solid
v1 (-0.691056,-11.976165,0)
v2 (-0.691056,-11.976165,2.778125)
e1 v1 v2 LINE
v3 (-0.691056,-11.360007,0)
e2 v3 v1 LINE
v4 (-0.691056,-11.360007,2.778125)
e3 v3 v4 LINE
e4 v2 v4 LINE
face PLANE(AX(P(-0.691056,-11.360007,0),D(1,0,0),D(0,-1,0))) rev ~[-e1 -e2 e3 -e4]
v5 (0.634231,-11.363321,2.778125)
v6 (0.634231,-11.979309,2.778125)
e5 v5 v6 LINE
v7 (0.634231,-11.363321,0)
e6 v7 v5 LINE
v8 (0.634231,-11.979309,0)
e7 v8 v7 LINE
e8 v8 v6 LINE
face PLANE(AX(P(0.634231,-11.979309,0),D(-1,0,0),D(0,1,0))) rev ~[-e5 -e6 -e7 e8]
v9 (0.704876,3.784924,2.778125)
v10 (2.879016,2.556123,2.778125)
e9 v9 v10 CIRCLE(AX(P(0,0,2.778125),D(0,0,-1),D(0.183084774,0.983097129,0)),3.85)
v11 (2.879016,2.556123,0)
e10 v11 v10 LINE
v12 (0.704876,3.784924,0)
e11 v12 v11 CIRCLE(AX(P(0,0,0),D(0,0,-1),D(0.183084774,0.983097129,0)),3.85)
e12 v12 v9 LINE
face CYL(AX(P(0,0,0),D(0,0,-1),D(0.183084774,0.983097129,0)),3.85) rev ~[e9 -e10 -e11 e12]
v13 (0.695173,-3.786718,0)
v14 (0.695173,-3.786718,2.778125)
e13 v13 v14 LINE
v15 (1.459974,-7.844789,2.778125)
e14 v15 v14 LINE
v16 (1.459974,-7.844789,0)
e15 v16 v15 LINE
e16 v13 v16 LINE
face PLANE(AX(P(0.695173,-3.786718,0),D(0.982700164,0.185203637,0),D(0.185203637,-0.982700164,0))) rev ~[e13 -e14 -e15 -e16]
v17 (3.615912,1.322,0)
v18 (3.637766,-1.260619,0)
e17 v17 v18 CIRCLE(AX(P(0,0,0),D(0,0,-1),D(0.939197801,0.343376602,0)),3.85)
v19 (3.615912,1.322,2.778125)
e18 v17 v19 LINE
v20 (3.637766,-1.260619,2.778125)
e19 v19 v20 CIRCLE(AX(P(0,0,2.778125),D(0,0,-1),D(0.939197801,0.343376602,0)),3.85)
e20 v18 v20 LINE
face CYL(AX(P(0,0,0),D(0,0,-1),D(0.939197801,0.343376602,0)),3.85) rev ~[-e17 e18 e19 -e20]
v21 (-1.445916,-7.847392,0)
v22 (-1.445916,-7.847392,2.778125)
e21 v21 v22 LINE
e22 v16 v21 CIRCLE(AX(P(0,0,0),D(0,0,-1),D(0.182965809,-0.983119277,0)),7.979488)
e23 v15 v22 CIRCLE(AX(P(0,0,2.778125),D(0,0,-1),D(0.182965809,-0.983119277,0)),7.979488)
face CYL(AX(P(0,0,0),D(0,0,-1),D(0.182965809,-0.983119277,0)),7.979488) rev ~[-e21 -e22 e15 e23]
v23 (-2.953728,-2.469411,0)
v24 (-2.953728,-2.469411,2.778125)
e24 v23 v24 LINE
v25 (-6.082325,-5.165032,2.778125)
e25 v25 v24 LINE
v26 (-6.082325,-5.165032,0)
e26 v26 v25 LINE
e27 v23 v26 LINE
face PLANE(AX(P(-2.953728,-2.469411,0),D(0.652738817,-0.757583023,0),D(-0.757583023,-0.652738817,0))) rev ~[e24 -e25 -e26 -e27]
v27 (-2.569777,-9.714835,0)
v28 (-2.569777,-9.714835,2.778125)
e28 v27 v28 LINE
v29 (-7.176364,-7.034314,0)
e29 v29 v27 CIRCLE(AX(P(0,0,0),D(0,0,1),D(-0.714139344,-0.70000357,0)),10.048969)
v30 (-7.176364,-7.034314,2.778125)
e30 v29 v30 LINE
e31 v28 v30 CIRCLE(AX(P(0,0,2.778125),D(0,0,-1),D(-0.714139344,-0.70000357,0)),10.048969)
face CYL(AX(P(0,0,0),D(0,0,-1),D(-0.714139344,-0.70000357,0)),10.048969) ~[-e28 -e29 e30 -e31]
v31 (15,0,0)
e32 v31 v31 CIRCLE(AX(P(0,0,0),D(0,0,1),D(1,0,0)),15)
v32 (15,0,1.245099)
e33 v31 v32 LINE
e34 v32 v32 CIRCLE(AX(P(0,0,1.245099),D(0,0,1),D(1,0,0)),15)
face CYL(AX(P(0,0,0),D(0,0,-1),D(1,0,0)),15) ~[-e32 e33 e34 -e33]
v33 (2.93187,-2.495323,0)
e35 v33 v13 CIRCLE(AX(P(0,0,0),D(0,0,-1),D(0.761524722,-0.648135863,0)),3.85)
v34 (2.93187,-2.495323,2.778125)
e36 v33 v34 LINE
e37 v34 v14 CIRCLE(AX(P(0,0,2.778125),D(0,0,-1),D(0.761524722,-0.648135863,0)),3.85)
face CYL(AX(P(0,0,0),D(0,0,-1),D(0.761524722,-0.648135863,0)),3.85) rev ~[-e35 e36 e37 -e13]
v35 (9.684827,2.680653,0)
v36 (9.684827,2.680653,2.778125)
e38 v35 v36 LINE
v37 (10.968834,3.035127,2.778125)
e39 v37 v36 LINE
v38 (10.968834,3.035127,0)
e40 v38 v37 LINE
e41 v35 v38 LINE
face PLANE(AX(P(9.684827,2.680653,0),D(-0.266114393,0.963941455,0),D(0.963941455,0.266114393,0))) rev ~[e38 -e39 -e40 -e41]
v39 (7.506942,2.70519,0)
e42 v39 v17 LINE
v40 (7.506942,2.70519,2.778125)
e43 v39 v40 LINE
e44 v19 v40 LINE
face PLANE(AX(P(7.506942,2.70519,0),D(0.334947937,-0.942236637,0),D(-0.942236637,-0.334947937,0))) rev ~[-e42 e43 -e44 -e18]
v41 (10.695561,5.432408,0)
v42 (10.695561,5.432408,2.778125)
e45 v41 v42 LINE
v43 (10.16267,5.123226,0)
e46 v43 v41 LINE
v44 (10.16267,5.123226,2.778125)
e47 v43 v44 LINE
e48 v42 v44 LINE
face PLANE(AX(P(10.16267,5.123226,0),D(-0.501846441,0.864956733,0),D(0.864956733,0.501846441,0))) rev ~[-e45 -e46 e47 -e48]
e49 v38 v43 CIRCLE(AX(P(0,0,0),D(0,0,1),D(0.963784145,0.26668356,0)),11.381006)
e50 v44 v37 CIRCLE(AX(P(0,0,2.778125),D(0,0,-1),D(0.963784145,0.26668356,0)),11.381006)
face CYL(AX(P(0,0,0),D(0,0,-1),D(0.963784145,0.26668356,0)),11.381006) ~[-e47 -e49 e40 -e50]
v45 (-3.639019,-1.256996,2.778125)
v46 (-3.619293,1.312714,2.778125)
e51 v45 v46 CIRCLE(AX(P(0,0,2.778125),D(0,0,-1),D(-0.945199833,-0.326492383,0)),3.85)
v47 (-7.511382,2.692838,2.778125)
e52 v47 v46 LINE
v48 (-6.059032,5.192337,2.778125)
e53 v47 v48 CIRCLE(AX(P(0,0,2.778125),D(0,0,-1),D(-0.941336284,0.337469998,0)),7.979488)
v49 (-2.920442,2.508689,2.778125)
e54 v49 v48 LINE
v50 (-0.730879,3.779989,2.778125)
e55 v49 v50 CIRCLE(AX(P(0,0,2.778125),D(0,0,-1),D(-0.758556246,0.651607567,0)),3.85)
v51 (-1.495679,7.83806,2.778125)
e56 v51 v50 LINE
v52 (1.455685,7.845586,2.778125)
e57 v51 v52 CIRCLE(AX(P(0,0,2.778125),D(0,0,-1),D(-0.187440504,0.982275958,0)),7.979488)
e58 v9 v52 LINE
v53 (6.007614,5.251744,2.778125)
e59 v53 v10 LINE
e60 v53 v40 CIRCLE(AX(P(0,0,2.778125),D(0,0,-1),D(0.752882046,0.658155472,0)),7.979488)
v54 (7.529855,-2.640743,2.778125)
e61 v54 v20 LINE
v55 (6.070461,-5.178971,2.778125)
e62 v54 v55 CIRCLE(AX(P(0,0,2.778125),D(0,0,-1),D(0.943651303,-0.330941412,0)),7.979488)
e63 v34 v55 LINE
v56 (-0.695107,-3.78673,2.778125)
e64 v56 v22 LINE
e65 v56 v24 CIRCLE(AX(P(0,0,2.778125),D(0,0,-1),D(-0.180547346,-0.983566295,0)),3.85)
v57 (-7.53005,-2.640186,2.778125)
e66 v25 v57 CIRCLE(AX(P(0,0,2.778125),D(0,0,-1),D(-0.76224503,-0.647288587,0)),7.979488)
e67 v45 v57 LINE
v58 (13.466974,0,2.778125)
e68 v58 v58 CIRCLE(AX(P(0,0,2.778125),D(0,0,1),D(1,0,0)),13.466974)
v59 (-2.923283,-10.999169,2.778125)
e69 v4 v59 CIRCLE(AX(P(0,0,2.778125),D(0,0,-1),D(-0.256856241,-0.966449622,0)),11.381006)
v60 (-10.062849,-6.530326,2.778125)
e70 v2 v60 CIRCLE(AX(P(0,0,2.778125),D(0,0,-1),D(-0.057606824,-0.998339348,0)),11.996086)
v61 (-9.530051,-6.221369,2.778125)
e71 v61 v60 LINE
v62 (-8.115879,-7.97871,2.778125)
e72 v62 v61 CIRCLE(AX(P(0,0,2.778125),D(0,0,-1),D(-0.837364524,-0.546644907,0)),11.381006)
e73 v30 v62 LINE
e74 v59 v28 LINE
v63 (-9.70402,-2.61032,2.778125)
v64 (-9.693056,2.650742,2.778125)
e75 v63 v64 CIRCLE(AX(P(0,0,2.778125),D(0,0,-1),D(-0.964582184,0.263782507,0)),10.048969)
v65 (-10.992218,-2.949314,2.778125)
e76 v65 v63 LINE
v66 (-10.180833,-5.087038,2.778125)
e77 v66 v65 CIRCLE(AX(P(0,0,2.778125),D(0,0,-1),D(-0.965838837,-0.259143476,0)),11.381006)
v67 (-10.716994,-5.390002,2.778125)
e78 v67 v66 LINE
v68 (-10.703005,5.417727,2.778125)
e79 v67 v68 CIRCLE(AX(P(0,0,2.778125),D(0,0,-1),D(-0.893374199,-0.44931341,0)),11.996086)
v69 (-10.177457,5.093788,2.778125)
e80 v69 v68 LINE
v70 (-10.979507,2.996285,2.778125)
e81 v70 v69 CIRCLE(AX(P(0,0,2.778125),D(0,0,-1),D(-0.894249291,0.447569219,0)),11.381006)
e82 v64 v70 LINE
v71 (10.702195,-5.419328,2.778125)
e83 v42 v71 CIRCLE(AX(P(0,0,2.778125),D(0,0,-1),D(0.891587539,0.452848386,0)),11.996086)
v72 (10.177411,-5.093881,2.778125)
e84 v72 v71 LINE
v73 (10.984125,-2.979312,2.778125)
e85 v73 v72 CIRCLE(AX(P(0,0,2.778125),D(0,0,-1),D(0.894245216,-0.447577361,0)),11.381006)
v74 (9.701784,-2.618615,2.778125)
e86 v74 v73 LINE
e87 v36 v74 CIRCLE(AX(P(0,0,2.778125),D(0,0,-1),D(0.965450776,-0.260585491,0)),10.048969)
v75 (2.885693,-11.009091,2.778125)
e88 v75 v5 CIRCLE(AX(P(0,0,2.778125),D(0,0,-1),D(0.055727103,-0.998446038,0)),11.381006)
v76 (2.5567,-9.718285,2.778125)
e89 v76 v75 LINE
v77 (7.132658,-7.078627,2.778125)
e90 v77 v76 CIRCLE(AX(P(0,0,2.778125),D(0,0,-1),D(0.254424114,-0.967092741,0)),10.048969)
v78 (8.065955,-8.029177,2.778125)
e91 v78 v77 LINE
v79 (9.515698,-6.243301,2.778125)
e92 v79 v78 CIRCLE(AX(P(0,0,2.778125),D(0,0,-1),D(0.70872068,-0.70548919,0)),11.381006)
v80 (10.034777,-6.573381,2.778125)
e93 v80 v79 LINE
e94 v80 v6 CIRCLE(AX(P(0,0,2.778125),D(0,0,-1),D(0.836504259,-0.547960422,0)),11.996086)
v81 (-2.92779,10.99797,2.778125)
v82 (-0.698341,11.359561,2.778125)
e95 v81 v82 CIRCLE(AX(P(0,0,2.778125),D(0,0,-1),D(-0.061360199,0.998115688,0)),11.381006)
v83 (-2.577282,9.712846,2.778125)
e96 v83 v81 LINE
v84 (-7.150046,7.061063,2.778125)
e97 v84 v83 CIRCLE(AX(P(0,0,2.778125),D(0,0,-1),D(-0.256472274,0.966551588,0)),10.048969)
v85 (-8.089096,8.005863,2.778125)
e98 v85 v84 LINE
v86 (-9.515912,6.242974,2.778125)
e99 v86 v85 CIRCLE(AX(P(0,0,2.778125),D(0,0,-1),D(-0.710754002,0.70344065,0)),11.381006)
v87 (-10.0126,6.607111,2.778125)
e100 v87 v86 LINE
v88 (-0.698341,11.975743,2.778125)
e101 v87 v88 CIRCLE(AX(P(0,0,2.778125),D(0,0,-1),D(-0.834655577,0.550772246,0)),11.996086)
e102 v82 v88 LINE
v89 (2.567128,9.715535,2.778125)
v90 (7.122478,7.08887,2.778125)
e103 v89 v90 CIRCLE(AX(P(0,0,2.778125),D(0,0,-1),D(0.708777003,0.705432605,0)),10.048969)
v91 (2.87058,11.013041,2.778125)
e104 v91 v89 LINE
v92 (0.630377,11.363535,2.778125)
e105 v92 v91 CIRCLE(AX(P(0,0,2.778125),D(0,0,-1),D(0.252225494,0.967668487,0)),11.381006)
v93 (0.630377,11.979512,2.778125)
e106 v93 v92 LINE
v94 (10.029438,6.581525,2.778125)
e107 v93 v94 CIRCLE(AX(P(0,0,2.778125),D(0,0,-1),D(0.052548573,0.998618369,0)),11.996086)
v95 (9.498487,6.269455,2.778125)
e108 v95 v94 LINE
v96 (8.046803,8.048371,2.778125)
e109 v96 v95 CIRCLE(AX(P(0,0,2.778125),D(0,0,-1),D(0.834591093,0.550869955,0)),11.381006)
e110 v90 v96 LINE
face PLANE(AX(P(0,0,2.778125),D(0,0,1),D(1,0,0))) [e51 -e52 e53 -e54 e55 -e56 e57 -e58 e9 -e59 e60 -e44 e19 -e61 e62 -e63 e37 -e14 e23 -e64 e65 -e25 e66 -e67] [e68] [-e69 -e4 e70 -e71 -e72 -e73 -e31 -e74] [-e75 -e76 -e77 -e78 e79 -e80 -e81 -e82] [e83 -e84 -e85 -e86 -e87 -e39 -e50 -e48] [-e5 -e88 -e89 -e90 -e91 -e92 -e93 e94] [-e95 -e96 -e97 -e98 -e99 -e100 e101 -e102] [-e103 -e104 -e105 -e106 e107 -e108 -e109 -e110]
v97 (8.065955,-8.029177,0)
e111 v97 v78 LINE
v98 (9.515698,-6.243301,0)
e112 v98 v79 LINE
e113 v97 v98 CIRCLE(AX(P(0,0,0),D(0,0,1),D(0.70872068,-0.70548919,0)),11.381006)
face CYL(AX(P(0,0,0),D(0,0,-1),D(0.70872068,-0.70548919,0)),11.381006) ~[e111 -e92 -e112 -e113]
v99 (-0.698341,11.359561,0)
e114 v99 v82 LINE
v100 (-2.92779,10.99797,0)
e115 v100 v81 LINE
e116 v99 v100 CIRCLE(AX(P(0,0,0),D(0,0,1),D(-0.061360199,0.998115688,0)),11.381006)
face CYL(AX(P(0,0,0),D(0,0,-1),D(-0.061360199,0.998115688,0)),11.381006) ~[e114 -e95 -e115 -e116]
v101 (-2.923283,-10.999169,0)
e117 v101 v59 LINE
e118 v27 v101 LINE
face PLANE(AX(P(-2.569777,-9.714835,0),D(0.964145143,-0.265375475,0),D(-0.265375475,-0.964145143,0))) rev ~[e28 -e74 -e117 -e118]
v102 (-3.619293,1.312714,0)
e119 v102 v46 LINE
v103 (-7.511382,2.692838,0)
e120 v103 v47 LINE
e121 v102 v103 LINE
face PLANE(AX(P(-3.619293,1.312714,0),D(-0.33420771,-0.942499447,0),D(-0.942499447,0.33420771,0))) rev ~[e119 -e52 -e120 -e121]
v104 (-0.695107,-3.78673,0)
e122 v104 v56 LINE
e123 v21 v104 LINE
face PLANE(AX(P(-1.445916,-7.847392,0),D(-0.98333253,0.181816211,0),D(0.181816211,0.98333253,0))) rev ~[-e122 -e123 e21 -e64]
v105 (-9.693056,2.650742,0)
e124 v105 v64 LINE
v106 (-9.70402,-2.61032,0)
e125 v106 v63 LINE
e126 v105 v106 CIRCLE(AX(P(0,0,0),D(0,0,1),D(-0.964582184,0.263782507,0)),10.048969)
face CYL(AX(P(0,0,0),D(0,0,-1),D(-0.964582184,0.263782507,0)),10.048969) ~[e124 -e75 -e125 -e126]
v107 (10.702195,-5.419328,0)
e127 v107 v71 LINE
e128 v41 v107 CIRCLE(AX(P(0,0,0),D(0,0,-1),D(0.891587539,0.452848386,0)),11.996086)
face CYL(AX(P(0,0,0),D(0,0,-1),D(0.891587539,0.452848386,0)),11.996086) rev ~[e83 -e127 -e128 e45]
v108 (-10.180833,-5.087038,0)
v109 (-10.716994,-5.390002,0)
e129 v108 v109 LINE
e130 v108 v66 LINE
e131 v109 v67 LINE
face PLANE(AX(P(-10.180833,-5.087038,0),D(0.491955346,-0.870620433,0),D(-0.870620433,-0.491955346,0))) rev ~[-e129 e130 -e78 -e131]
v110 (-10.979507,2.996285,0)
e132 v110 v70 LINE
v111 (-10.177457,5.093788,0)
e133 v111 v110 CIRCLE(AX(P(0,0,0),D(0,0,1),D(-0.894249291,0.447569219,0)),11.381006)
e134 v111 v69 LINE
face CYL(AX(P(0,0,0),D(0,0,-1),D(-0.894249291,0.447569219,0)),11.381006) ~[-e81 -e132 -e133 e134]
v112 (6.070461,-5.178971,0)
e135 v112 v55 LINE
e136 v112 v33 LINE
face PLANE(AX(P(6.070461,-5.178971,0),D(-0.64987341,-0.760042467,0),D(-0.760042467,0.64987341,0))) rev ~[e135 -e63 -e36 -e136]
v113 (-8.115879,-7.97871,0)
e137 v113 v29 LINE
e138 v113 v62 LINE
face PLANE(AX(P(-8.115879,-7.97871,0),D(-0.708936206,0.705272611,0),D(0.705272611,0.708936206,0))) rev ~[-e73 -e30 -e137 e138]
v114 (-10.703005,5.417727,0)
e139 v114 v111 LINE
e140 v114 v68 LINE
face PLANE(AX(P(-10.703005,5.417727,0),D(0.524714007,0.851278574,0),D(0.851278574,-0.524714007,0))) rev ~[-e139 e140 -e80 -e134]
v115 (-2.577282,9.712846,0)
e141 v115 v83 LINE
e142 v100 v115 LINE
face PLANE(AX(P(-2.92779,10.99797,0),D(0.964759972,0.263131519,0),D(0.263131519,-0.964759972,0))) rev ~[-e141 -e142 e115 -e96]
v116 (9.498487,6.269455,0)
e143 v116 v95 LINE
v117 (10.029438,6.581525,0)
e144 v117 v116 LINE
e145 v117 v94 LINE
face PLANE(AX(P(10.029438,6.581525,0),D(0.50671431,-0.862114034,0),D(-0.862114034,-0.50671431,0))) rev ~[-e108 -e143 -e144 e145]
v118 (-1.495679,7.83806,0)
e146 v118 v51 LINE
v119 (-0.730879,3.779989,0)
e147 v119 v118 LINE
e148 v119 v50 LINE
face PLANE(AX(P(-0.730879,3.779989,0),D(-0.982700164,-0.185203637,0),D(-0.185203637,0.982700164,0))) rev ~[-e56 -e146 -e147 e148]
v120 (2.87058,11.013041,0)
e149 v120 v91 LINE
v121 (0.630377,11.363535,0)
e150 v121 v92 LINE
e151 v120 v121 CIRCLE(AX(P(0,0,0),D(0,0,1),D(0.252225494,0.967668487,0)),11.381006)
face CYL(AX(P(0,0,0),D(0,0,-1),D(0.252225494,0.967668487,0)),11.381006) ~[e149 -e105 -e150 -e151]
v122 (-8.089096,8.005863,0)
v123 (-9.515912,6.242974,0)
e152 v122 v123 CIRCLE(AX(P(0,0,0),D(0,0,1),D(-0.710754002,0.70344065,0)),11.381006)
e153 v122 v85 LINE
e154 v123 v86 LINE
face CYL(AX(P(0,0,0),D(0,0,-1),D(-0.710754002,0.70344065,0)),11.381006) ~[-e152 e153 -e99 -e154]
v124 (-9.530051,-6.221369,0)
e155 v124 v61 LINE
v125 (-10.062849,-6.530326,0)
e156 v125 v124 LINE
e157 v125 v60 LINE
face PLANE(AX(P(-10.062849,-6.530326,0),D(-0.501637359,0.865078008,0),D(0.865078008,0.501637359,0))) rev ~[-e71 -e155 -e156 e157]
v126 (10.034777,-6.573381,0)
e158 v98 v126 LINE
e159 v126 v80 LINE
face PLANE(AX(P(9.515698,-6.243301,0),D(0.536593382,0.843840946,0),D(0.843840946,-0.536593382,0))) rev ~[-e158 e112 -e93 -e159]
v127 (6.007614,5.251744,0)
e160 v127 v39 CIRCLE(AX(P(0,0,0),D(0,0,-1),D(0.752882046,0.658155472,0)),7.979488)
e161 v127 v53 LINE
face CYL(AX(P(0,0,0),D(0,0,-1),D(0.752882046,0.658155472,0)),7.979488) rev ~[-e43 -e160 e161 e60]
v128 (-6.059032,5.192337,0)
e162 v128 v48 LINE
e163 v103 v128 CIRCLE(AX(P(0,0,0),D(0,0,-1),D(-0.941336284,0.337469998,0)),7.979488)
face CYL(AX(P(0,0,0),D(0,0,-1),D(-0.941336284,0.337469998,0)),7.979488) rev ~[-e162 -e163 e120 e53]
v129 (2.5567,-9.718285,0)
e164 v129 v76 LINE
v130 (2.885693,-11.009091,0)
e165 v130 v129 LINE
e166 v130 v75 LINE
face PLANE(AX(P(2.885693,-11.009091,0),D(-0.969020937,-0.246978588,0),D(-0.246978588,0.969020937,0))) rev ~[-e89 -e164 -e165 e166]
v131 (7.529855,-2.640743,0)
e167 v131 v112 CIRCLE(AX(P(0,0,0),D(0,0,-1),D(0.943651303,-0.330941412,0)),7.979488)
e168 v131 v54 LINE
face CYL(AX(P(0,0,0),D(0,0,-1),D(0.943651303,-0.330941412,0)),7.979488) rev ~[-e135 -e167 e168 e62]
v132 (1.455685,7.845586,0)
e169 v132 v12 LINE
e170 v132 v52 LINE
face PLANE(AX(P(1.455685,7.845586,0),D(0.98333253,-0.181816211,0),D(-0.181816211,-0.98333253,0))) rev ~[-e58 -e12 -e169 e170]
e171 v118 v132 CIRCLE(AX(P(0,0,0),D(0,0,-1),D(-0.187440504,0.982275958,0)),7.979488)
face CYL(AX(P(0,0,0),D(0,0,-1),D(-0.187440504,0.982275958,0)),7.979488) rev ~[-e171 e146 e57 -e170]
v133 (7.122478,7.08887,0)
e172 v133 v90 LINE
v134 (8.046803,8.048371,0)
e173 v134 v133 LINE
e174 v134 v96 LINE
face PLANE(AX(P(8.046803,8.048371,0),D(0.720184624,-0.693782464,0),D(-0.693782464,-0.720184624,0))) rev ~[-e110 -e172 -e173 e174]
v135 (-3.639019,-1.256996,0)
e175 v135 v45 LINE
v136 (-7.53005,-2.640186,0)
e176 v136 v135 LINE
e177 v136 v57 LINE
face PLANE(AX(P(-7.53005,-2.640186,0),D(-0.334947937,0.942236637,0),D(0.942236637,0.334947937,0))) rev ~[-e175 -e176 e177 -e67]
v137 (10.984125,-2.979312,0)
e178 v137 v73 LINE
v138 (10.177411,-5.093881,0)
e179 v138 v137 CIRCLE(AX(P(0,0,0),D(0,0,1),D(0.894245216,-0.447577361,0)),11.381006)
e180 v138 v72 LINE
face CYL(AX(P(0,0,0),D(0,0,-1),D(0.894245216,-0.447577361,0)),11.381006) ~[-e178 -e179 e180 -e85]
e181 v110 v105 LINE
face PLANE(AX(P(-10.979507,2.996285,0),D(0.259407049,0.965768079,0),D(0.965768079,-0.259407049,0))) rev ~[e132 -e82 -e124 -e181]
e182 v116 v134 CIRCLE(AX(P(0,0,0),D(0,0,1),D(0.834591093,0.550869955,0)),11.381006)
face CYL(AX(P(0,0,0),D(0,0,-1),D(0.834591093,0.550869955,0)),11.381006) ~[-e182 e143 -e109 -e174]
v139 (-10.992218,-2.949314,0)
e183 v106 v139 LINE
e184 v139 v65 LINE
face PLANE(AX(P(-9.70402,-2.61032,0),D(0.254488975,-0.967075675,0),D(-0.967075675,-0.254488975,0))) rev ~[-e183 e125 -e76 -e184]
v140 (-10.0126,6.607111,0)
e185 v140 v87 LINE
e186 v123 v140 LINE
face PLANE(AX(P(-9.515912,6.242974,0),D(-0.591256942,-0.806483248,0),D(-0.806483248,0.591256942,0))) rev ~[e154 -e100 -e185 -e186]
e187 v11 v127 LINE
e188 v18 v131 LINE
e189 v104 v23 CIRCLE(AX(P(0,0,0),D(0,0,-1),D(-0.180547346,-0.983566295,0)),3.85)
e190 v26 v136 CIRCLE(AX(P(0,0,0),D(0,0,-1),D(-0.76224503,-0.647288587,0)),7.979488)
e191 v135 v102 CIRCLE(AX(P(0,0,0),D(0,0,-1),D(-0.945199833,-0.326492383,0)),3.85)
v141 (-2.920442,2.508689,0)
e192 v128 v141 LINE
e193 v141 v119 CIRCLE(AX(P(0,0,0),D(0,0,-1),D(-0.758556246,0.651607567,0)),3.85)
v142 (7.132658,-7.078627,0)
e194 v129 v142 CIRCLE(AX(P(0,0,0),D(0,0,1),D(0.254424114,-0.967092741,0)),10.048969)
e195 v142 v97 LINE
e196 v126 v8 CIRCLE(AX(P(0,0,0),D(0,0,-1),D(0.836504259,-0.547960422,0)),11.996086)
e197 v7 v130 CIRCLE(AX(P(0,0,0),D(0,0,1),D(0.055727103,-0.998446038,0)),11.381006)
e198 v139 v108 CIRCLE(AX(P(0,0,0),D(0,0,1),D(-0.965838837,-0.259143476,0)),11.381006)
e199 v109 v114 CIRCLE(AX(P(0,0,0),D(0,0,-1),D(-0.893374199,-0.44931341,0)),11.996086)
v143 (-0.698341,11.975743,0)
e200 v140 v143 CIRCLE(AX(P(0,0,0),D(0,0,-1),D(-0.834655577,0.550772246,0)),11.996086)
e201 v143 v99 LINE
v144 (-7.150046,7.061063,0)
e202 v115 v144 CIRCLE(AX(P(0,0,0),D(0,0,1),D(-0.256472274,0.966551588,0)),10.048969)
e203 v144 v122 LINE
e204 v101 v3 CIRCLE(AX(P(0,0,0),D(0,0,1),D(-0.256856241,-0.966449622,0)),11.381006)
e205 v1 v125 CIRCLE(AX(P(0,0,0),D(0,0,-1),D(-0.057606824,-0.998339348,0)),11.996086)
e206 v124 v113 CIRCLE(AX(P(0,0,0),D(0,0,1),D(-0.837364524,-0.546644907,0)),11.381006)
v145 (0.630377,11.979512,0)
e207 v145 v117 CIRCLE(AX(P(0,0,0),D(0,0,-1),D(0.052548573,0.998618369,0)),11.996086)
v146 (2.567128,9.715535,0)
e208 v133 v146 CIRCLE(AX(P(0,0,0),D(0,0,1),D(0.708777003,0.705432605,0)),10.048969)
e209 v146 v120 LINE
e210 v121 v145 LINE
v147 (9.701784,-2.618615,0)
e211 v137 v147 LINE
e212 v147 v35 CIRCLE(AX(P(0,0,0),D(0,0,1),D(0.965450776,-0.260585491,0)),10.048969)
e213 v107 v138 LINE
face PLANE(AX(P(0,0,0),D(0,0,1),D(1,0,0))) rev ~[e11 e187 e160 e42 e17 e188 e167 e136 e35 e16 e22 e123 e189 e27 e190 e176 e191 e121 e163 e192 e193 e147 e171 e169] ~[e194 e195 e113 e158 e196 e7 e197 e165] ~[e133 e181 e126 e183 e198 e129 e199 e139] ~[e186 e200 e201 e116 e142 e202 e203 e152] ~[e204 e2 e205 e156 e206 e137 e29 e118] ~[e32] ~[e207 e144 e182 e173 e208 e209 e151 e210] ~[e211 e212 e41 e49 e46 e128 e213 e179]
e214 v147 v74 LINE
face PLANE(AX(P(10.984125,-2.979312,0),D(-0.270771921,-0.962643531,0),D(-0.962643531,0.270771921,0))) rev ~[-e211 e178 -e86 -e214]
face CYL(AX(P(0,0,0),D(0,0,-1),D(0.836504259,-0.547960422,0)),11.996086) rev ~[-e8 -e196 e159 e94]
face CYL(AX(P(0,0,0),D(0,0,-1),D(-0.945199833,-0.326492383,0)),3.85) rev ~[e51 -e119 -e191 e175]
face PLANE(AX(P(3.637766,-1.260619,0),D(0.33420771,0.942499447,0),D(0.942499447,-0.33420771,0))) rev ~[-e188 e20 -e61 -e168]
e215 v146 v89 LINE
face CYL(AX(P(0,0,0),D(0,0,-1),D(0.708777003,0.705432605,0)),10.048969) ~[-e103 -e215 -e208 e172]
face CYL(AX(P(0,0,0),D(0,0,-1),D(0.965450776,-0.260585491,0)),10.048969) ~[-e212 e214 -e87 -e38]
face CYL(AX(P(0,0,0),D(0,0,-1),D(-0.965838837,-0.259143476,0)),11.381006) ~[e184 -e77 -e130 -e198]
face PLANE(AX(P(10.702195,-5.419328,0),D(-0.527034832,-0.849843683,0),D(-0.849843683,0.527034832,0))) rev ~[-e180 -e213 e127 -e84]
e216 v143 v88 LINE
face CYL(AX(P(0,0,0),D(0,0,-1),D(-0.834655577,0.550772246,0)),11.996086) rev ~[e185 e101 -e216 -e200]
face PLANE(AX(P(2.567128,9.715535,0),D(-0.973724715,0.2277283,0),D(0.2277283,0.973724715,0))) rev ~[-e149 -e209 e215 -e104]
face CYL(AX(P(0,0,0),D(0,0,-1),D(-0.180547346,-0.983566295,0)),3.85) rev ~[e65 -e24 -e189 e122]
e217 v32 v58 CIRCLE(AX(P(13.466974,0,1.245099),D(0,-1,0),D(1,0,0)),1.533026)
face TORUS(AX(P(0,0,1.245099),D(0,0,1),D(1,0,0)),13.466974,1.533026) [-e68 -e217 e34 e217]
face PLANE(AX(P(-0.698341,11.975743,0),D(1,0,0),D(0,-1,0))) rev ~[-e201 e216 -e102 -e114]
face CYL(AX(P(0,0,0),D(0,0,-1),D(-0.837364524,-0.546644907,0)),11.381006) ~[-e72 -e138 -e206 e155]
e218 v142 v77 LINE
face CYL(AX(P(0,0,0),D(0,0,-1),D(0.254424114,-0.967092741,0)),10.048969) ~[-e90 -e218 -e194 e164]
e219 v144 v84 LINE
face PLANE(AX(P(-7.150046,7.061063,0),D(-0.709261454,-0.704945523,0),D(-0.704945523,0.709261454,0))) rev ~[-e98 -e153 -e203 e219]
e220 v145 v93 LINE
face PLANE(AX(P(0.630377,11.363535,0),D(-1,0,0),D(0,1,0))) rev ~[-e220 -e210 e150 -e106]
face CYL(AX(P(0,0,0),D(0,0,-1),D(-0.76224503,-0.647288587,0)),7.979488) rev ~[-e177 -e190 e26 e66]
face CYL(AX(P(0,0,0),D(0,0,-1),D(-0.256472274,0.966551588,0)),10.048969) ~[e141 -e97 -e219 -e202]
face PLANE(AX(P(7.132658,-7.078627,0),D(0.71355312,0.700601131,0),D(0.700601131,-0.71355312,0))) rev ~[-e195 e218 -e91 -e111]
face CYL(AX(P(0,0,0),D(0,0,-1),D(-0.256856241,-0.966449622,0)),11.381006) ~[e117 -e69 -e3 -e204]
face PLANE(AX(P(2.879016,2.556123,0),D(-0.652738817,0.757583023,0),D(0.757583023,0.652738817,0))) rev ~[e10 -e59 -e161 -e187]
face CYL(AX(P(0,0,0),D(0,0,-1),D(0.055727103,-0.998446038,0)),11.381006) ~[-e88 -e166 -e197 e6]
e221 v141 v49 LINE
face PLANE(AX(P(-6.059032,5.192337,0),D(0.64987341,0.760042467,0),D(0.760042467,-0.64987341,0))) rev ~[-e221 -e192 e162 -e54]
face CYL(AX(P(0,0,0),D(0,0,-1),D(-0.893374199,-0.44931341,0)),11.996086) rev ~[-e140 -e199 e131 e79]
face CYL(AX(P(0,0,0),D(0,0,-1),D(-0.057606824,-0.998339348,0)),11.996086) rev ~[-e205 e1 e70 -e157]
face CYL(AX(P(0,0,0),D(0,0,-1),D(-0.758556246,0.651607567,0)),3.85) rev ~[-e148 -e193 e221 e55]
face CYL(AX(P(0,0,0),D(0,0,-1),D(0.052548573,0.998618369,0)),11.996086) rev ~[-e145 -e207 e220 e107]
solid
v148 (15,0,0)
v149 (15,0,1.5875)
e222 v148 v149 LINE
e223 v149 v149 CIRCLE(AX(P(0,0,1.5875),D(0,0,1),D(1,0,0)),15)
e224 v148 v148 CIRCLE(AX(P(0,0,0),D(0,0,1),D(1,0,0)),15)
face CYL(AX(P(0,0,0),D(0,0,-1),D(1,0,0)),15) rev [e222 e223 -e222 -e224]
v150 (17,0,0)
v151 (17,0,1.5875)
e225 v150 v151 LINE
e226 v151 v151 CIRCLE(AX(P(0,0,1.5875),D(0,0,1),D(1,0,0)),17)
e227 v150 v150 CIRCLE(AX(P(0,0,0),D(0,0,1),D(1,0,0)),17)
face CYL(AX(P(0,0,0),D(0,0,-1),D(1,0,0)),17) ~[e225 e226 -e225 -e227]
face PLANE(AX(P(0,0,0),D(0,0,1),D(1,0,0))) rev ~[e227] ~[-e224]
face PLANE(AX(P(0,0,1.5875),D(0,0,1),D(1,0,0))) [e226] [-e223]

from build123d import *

# Parameters (mm, degrees)
F2_R      = 13.335
F3_DEPTH  = 2.778125
F4_R      = 38.2444741699
F5_DEPTH  = 8
F6_SCALE  = 0.35
F8_R      = 17
F8_R_2    = 15
F9_DEPTH  = 1.5875
F10_DEPTH = 2.778125
F12_R     = 1.5330256121


with BuildPart() as f3:
    # F2 (on Top) → F3 (new body)
    with BuildSketch(Plane.XY):
        Circle(F2_R)
    extrude(amount=F3_DEPTH)


with BuildPart() as f5:
    # F4 (on Top) → F5 (new body)
    with BuildSketch(Plane.XY):
        Circle(F4_R)
        with BuildLine():
            Line((-23.1882267199, -22.7963136928), (-20.5038965179, -20.0980395265))
            ThreePointArc((-20.5038965179, -20.0980395265), (-14.4400553992, -24.8158369855), (-7.3422192738, -27.7566709343))
            Line((-7.3422192738, -27.7566709343), (-8.3522358133, -31.4261982001))
            ThreePointArc((-8.3522358133, -31.4261982001), (-5.1890091297, -32.1004666733), (-1.9744469831, -32.4571615442))
            Line((-1.9744469831, -32.4571615442), (-1.9744469831, -34.2176145586))
            ThreePointArc((-1.9744469831, -34.2176145586), (-17.2202807743, -29.634532509), (-28.7509978869, -18.6580735201))
            Line((-28.7509978869, -18.6580735201), (-27.2287172495, -17.775340597))
            ThreePointArc((-27.2287172495, -17.775340597), (-25.3331719789, -20.3861760485), (-23.1882267199, -22.7963136928))
        make_face(mode=Mode.SUBTRACT)
        with BuildLine():
            ThreePointArc((-10.3971981615, -3.5914162096), (-10.9996759089, 0.0844387241), (-10.3408372804, 3.7506111957))
            Line((-10.3408372804, 3.7506111957), (-21.461091167, 7.6938226179))
            ThreePointArc((-21.461091167, 7.6938226179), (-19.7124031361, 11.4540169003), (-17.3115200116, 14.8352490859))
            Line((-17.3115200116, 14.8352490859), (-8.3441187098, 7.1676832349))
            ThreePointArc((-8.3441187098, 7.1676832349), (-5.5232984187, 9.5127900522), (-2.0882255783, 10.7999682376))
            Line((-2.0882255783, 10.7999682376), (-4.2733694852, 22.3944558719))
            ThreePointArc((-4.2733694852, 22.3944558719), (-0.058138144, 22.7984639945), (4.1590988757, 22.4159594284))
            Line((4.1590988757, 22.4159594284), (2.013932512, 10.8140684221))
            ThreePointArc((2.013932512, 10.8140684221), (5.4124271261, 9.5763057911), (8.2257613426, 7.303208222))
            Line((8.2257613426, 7.303208222), (17.1646100288, 15.0049826095))
            ThreePointArc((17.1646100288, 15.0049826095), (19.6462671578, 11.5670881089), (21.4484059868, 7.7291151615))
            Line((21.4484059868, 7.7291151615), (10.3311758086, 3.7771426254))
            ThreePointArc((10.3311758086, 3.7771426254), (10.9996061892, 0.0930789068), (10.3936163191, -3.6017689837))
            Line((10.3936163191, -3.6017689837), (21.5138702057, -7.5449804059))
            ThreePointArc((21.5138702057, -7.5449804059), (19.76448965, -11.3639029135), (17.3441732478, -14.7970603467))
            Line((17.3441732478, -14.7970603467), (8.3767719461, -7.1294944957))
            ThreePointArc((8.3767719461, -7.1294944957), (5.5001196113, -9.526210383), (1.986209068, -10.8191946807))
            Line((1.986209068, -10.8191946807), (4.1713529749, -22.4136823149))
            ThreePointArc((4.1713529749, -22.4136823149), (0.020424338, -22.7985289745), (-4.1311871745, -22.4211202459))
            Line((-4.1311871745, -22.4211202459), (-1.9860208108, -10.8192292396))
            ThreePointArc((-1.9860208108, -10.8192292396), (-5.5419240379, -9.5019512711), (-8.4392236838, -7.0554591356))
            Line((-8.4392236838, -7.0554591356), (-17.37807237, -14.7572335231))
            ThreePointArc((-17.37807237, -14.7572335231), (-19.77793068, -11.3404937534), (-21.5144283397, -7.5433887457))
            Line((-21.5144283397, -7.5433887457), (-10.3971981615, -3.5914162096))
        make_face(mode=Mode.SUBTRACT)
        with BuildLine():
            Line((8.2448381461, -31.4545453049), (7.3048568966, -27.7665271675))
            ThreePointArc((7.3048568966, -27.7665271675), (14.3464034329, -24.8700959741), (20.3790232601, -20.2246477395))
            Line((20.3790232601, -20.2246477395), (23.0455846526, -22.9405057576))
            ThreePointArc((23.0455846526, -22.9405057576), (25.245886713, -20.4941694261), (27.1877075422, -17.8380025506))
            Line((27.1877075422, -17.8380025506), (28.6707925268, -18.7810873715))
            ThreePointArc((28.6707925268, -18.7810873715), (17.0863228663, -29.7119699428), (1.8120871851, -34.226596778))
            Line((1.8120871851, -34.226596778), (1.8120871851, -32.4666308142))
            ThreePointArc((1.8120871851, -32.4666308142), (5.0538614988, -32.1220214237), (8.2448381461, -31.4545453049))
        make_face(mode=Mode.SUBTRACT)
        with BuildLine():
            Line((-31.3700210711, 8.5608150542), (-27.6944457003, 7.5735488759))
            ThreePointArc((-27.6944457003, 7.5735488759), (-28.7112762752, 0.0598320032), (-27.7257703658, -7.4580575786))
            Line((-27.7257703658, -7.4580575786), (-31.4063372087, -8.4266102037))
            ThreePointArc((-31.4063372087, -8.4266102037), (-30.4009916701, -11.5388683098), (-29.0880936569, -14.5343931349))
            Line((-29.0880936569, -14.5343931349), (-30.6199831431, -15.4000071198))
            ThreePointArc((-30.6199831431, -15.4000071198), (-34.274503919, 0.0443630643), (-30.5800147401, 15.4792210873))
            Line((-30.5800147401, 15.4792210873), (-29.0784483945, 14.5536804747))
            ThreePointArc((-29.0784483945, 14.5536804747), (-30.3724048138, 11.6139055542), (-31.3700210711, 8.5608150542))
        make_face(mode=Mode.SUBTRACT)
        with BuildLine():
            ThreePointArc((-1.9952594939, 32.4558887715), (-5.2058787413, 32.0977351681), (-8.3651152282, 31.4227723731))
            Line((-8.3651152282, 31.4227723731), (-7.3636623113, 27.7509899389))
            ThreePointArc((-7.3636623113, 27.7509899389), (-14.4032915605, 24.8371930267), (-20.4287021431, 20.1744663863))
            Line((-20.4287021431, 20.1744663863), (-23.1117025135, 22.8738930513))
            ThreePointArc((-23.1117025135, 22.8738930513), (-25.2757879931, 20.457280311), (-27.1883197733, 17.8370693864))
            Line((-27.1883197733, 17.8370693864), (-28.6074298216, 18.8774613223))
            ThreePointArc((-28.6074298216, 18.8774613223), (-17.1158395657, 29.6949763922), (-1.9952594939, 34.2164072708))
            Line((-1.9952594939, 34.2164072708), (-1.9952594939, 32.4558887715))
        make_face(mode=Mode.SUBTRACT)
        with BuildLine():
            ThreePointArc((27.7193841618, -7.4817582766), (28.7111916158, 0.0918761434), (27.6709335359, 7.6590079303))
            Line((27.6709335359, 7.6590079303), (31.3395244772, 8.671792314))
            ThreePointArc((31.3395244772, 8.671792314), (30.3348860947, 11.7115525023), (29.0362003632, 14.6377882502))
            Line((29.0362003632, 14.6377882502), (30.558746192, 15.5211667778))
            ThreePointArc((30.558746192, 15.5211667778), (34.2745262259, 0.0209514), (30.5776989663, -15.4837951711))
            Line((30.5776989663, -15.4837951711), (29.0783158896, -14.5539452184))
            ThreePointArc((29.0783158896, -14.5539452184), (30.3813182742, -11.5905684208), (31.3832152909, -8.5123189788))
            Line((31.3832152909, -8.5123189788), (27.7193841618, -7.4817582766))
        make_face(mode=Mode.SUBTRACT)
        with BuildLine():
            Line((7.3346508819, 27.7586718282), (8.2016570522, 31.465832231))
            ThreePointArc((8.2016570522, 31.465832231), (5.0263686738, 32.1263349038), (1.8010777644, 32.4672434198))
            Line((1.8010777644, 32.4672434198), (1.8010777644, 34.2271778834))
            ThreePointArc((1.8010777644, 34.2271778834), (17.0694808141, 29.7216488727), (28.6555357791, 18.8043573724))
            Line((28.6555357791, 18.8043573724), (27.138533169, 17.9127271467))
            ThreePointArc((27.138533169, 17.9127271467), (25.1932014823, 20.5589001521), (22.9908654017, 22.9953448435))
            Line((22.9908654017, 22.9953448435), (20.3499365278, 20.2539144004))
            ThreePointArc((20.3499365278, 20.2539144004), (14.3418771792, 24.8727064108), (7.3346508819, 27.7586718282))
        make_face(mode=Mode.SUBTRACT)
    extrude(amount=F5_DEPTH)


with BuildPart() as f5_1:
    # F6: moved
    add(f5.part.scale(F6_SCALE))


with BuildPart() as f3_1:
    add(f3.part)

    # F7: cut F5
    add(f5_1.part, mode=Mode.SUBTRACT)


with BuildPart() as f9:
    # F8 (on Top) → F9 (new body)
    with BuildSketch(Plane.XY):
        Circle(F8_R)
        Circle(F8_R_2, mode=Mode.SUBTRACT)
    extrude(amount=F9_DEPTH)


with BuildPart() as f10:
    # F8 (on Top) → F10 (new body)
    with BuildSketch(Plane.XY):
        Circle(F8_R_2)
    extrude(amount=F10_DEPTH)

    # F11: cut F3
    add(f3_1.part, mode=Mode.SUBTRACT)

    # F12
    f12_edges = [f10.edges().sort_by_distance(p)[0] for p in [
        (-15, 0, 2.778125),
    ]]
    fillet(f12_edges, radius=F12_R)


solid = Compound([f9.part, f10.part])
